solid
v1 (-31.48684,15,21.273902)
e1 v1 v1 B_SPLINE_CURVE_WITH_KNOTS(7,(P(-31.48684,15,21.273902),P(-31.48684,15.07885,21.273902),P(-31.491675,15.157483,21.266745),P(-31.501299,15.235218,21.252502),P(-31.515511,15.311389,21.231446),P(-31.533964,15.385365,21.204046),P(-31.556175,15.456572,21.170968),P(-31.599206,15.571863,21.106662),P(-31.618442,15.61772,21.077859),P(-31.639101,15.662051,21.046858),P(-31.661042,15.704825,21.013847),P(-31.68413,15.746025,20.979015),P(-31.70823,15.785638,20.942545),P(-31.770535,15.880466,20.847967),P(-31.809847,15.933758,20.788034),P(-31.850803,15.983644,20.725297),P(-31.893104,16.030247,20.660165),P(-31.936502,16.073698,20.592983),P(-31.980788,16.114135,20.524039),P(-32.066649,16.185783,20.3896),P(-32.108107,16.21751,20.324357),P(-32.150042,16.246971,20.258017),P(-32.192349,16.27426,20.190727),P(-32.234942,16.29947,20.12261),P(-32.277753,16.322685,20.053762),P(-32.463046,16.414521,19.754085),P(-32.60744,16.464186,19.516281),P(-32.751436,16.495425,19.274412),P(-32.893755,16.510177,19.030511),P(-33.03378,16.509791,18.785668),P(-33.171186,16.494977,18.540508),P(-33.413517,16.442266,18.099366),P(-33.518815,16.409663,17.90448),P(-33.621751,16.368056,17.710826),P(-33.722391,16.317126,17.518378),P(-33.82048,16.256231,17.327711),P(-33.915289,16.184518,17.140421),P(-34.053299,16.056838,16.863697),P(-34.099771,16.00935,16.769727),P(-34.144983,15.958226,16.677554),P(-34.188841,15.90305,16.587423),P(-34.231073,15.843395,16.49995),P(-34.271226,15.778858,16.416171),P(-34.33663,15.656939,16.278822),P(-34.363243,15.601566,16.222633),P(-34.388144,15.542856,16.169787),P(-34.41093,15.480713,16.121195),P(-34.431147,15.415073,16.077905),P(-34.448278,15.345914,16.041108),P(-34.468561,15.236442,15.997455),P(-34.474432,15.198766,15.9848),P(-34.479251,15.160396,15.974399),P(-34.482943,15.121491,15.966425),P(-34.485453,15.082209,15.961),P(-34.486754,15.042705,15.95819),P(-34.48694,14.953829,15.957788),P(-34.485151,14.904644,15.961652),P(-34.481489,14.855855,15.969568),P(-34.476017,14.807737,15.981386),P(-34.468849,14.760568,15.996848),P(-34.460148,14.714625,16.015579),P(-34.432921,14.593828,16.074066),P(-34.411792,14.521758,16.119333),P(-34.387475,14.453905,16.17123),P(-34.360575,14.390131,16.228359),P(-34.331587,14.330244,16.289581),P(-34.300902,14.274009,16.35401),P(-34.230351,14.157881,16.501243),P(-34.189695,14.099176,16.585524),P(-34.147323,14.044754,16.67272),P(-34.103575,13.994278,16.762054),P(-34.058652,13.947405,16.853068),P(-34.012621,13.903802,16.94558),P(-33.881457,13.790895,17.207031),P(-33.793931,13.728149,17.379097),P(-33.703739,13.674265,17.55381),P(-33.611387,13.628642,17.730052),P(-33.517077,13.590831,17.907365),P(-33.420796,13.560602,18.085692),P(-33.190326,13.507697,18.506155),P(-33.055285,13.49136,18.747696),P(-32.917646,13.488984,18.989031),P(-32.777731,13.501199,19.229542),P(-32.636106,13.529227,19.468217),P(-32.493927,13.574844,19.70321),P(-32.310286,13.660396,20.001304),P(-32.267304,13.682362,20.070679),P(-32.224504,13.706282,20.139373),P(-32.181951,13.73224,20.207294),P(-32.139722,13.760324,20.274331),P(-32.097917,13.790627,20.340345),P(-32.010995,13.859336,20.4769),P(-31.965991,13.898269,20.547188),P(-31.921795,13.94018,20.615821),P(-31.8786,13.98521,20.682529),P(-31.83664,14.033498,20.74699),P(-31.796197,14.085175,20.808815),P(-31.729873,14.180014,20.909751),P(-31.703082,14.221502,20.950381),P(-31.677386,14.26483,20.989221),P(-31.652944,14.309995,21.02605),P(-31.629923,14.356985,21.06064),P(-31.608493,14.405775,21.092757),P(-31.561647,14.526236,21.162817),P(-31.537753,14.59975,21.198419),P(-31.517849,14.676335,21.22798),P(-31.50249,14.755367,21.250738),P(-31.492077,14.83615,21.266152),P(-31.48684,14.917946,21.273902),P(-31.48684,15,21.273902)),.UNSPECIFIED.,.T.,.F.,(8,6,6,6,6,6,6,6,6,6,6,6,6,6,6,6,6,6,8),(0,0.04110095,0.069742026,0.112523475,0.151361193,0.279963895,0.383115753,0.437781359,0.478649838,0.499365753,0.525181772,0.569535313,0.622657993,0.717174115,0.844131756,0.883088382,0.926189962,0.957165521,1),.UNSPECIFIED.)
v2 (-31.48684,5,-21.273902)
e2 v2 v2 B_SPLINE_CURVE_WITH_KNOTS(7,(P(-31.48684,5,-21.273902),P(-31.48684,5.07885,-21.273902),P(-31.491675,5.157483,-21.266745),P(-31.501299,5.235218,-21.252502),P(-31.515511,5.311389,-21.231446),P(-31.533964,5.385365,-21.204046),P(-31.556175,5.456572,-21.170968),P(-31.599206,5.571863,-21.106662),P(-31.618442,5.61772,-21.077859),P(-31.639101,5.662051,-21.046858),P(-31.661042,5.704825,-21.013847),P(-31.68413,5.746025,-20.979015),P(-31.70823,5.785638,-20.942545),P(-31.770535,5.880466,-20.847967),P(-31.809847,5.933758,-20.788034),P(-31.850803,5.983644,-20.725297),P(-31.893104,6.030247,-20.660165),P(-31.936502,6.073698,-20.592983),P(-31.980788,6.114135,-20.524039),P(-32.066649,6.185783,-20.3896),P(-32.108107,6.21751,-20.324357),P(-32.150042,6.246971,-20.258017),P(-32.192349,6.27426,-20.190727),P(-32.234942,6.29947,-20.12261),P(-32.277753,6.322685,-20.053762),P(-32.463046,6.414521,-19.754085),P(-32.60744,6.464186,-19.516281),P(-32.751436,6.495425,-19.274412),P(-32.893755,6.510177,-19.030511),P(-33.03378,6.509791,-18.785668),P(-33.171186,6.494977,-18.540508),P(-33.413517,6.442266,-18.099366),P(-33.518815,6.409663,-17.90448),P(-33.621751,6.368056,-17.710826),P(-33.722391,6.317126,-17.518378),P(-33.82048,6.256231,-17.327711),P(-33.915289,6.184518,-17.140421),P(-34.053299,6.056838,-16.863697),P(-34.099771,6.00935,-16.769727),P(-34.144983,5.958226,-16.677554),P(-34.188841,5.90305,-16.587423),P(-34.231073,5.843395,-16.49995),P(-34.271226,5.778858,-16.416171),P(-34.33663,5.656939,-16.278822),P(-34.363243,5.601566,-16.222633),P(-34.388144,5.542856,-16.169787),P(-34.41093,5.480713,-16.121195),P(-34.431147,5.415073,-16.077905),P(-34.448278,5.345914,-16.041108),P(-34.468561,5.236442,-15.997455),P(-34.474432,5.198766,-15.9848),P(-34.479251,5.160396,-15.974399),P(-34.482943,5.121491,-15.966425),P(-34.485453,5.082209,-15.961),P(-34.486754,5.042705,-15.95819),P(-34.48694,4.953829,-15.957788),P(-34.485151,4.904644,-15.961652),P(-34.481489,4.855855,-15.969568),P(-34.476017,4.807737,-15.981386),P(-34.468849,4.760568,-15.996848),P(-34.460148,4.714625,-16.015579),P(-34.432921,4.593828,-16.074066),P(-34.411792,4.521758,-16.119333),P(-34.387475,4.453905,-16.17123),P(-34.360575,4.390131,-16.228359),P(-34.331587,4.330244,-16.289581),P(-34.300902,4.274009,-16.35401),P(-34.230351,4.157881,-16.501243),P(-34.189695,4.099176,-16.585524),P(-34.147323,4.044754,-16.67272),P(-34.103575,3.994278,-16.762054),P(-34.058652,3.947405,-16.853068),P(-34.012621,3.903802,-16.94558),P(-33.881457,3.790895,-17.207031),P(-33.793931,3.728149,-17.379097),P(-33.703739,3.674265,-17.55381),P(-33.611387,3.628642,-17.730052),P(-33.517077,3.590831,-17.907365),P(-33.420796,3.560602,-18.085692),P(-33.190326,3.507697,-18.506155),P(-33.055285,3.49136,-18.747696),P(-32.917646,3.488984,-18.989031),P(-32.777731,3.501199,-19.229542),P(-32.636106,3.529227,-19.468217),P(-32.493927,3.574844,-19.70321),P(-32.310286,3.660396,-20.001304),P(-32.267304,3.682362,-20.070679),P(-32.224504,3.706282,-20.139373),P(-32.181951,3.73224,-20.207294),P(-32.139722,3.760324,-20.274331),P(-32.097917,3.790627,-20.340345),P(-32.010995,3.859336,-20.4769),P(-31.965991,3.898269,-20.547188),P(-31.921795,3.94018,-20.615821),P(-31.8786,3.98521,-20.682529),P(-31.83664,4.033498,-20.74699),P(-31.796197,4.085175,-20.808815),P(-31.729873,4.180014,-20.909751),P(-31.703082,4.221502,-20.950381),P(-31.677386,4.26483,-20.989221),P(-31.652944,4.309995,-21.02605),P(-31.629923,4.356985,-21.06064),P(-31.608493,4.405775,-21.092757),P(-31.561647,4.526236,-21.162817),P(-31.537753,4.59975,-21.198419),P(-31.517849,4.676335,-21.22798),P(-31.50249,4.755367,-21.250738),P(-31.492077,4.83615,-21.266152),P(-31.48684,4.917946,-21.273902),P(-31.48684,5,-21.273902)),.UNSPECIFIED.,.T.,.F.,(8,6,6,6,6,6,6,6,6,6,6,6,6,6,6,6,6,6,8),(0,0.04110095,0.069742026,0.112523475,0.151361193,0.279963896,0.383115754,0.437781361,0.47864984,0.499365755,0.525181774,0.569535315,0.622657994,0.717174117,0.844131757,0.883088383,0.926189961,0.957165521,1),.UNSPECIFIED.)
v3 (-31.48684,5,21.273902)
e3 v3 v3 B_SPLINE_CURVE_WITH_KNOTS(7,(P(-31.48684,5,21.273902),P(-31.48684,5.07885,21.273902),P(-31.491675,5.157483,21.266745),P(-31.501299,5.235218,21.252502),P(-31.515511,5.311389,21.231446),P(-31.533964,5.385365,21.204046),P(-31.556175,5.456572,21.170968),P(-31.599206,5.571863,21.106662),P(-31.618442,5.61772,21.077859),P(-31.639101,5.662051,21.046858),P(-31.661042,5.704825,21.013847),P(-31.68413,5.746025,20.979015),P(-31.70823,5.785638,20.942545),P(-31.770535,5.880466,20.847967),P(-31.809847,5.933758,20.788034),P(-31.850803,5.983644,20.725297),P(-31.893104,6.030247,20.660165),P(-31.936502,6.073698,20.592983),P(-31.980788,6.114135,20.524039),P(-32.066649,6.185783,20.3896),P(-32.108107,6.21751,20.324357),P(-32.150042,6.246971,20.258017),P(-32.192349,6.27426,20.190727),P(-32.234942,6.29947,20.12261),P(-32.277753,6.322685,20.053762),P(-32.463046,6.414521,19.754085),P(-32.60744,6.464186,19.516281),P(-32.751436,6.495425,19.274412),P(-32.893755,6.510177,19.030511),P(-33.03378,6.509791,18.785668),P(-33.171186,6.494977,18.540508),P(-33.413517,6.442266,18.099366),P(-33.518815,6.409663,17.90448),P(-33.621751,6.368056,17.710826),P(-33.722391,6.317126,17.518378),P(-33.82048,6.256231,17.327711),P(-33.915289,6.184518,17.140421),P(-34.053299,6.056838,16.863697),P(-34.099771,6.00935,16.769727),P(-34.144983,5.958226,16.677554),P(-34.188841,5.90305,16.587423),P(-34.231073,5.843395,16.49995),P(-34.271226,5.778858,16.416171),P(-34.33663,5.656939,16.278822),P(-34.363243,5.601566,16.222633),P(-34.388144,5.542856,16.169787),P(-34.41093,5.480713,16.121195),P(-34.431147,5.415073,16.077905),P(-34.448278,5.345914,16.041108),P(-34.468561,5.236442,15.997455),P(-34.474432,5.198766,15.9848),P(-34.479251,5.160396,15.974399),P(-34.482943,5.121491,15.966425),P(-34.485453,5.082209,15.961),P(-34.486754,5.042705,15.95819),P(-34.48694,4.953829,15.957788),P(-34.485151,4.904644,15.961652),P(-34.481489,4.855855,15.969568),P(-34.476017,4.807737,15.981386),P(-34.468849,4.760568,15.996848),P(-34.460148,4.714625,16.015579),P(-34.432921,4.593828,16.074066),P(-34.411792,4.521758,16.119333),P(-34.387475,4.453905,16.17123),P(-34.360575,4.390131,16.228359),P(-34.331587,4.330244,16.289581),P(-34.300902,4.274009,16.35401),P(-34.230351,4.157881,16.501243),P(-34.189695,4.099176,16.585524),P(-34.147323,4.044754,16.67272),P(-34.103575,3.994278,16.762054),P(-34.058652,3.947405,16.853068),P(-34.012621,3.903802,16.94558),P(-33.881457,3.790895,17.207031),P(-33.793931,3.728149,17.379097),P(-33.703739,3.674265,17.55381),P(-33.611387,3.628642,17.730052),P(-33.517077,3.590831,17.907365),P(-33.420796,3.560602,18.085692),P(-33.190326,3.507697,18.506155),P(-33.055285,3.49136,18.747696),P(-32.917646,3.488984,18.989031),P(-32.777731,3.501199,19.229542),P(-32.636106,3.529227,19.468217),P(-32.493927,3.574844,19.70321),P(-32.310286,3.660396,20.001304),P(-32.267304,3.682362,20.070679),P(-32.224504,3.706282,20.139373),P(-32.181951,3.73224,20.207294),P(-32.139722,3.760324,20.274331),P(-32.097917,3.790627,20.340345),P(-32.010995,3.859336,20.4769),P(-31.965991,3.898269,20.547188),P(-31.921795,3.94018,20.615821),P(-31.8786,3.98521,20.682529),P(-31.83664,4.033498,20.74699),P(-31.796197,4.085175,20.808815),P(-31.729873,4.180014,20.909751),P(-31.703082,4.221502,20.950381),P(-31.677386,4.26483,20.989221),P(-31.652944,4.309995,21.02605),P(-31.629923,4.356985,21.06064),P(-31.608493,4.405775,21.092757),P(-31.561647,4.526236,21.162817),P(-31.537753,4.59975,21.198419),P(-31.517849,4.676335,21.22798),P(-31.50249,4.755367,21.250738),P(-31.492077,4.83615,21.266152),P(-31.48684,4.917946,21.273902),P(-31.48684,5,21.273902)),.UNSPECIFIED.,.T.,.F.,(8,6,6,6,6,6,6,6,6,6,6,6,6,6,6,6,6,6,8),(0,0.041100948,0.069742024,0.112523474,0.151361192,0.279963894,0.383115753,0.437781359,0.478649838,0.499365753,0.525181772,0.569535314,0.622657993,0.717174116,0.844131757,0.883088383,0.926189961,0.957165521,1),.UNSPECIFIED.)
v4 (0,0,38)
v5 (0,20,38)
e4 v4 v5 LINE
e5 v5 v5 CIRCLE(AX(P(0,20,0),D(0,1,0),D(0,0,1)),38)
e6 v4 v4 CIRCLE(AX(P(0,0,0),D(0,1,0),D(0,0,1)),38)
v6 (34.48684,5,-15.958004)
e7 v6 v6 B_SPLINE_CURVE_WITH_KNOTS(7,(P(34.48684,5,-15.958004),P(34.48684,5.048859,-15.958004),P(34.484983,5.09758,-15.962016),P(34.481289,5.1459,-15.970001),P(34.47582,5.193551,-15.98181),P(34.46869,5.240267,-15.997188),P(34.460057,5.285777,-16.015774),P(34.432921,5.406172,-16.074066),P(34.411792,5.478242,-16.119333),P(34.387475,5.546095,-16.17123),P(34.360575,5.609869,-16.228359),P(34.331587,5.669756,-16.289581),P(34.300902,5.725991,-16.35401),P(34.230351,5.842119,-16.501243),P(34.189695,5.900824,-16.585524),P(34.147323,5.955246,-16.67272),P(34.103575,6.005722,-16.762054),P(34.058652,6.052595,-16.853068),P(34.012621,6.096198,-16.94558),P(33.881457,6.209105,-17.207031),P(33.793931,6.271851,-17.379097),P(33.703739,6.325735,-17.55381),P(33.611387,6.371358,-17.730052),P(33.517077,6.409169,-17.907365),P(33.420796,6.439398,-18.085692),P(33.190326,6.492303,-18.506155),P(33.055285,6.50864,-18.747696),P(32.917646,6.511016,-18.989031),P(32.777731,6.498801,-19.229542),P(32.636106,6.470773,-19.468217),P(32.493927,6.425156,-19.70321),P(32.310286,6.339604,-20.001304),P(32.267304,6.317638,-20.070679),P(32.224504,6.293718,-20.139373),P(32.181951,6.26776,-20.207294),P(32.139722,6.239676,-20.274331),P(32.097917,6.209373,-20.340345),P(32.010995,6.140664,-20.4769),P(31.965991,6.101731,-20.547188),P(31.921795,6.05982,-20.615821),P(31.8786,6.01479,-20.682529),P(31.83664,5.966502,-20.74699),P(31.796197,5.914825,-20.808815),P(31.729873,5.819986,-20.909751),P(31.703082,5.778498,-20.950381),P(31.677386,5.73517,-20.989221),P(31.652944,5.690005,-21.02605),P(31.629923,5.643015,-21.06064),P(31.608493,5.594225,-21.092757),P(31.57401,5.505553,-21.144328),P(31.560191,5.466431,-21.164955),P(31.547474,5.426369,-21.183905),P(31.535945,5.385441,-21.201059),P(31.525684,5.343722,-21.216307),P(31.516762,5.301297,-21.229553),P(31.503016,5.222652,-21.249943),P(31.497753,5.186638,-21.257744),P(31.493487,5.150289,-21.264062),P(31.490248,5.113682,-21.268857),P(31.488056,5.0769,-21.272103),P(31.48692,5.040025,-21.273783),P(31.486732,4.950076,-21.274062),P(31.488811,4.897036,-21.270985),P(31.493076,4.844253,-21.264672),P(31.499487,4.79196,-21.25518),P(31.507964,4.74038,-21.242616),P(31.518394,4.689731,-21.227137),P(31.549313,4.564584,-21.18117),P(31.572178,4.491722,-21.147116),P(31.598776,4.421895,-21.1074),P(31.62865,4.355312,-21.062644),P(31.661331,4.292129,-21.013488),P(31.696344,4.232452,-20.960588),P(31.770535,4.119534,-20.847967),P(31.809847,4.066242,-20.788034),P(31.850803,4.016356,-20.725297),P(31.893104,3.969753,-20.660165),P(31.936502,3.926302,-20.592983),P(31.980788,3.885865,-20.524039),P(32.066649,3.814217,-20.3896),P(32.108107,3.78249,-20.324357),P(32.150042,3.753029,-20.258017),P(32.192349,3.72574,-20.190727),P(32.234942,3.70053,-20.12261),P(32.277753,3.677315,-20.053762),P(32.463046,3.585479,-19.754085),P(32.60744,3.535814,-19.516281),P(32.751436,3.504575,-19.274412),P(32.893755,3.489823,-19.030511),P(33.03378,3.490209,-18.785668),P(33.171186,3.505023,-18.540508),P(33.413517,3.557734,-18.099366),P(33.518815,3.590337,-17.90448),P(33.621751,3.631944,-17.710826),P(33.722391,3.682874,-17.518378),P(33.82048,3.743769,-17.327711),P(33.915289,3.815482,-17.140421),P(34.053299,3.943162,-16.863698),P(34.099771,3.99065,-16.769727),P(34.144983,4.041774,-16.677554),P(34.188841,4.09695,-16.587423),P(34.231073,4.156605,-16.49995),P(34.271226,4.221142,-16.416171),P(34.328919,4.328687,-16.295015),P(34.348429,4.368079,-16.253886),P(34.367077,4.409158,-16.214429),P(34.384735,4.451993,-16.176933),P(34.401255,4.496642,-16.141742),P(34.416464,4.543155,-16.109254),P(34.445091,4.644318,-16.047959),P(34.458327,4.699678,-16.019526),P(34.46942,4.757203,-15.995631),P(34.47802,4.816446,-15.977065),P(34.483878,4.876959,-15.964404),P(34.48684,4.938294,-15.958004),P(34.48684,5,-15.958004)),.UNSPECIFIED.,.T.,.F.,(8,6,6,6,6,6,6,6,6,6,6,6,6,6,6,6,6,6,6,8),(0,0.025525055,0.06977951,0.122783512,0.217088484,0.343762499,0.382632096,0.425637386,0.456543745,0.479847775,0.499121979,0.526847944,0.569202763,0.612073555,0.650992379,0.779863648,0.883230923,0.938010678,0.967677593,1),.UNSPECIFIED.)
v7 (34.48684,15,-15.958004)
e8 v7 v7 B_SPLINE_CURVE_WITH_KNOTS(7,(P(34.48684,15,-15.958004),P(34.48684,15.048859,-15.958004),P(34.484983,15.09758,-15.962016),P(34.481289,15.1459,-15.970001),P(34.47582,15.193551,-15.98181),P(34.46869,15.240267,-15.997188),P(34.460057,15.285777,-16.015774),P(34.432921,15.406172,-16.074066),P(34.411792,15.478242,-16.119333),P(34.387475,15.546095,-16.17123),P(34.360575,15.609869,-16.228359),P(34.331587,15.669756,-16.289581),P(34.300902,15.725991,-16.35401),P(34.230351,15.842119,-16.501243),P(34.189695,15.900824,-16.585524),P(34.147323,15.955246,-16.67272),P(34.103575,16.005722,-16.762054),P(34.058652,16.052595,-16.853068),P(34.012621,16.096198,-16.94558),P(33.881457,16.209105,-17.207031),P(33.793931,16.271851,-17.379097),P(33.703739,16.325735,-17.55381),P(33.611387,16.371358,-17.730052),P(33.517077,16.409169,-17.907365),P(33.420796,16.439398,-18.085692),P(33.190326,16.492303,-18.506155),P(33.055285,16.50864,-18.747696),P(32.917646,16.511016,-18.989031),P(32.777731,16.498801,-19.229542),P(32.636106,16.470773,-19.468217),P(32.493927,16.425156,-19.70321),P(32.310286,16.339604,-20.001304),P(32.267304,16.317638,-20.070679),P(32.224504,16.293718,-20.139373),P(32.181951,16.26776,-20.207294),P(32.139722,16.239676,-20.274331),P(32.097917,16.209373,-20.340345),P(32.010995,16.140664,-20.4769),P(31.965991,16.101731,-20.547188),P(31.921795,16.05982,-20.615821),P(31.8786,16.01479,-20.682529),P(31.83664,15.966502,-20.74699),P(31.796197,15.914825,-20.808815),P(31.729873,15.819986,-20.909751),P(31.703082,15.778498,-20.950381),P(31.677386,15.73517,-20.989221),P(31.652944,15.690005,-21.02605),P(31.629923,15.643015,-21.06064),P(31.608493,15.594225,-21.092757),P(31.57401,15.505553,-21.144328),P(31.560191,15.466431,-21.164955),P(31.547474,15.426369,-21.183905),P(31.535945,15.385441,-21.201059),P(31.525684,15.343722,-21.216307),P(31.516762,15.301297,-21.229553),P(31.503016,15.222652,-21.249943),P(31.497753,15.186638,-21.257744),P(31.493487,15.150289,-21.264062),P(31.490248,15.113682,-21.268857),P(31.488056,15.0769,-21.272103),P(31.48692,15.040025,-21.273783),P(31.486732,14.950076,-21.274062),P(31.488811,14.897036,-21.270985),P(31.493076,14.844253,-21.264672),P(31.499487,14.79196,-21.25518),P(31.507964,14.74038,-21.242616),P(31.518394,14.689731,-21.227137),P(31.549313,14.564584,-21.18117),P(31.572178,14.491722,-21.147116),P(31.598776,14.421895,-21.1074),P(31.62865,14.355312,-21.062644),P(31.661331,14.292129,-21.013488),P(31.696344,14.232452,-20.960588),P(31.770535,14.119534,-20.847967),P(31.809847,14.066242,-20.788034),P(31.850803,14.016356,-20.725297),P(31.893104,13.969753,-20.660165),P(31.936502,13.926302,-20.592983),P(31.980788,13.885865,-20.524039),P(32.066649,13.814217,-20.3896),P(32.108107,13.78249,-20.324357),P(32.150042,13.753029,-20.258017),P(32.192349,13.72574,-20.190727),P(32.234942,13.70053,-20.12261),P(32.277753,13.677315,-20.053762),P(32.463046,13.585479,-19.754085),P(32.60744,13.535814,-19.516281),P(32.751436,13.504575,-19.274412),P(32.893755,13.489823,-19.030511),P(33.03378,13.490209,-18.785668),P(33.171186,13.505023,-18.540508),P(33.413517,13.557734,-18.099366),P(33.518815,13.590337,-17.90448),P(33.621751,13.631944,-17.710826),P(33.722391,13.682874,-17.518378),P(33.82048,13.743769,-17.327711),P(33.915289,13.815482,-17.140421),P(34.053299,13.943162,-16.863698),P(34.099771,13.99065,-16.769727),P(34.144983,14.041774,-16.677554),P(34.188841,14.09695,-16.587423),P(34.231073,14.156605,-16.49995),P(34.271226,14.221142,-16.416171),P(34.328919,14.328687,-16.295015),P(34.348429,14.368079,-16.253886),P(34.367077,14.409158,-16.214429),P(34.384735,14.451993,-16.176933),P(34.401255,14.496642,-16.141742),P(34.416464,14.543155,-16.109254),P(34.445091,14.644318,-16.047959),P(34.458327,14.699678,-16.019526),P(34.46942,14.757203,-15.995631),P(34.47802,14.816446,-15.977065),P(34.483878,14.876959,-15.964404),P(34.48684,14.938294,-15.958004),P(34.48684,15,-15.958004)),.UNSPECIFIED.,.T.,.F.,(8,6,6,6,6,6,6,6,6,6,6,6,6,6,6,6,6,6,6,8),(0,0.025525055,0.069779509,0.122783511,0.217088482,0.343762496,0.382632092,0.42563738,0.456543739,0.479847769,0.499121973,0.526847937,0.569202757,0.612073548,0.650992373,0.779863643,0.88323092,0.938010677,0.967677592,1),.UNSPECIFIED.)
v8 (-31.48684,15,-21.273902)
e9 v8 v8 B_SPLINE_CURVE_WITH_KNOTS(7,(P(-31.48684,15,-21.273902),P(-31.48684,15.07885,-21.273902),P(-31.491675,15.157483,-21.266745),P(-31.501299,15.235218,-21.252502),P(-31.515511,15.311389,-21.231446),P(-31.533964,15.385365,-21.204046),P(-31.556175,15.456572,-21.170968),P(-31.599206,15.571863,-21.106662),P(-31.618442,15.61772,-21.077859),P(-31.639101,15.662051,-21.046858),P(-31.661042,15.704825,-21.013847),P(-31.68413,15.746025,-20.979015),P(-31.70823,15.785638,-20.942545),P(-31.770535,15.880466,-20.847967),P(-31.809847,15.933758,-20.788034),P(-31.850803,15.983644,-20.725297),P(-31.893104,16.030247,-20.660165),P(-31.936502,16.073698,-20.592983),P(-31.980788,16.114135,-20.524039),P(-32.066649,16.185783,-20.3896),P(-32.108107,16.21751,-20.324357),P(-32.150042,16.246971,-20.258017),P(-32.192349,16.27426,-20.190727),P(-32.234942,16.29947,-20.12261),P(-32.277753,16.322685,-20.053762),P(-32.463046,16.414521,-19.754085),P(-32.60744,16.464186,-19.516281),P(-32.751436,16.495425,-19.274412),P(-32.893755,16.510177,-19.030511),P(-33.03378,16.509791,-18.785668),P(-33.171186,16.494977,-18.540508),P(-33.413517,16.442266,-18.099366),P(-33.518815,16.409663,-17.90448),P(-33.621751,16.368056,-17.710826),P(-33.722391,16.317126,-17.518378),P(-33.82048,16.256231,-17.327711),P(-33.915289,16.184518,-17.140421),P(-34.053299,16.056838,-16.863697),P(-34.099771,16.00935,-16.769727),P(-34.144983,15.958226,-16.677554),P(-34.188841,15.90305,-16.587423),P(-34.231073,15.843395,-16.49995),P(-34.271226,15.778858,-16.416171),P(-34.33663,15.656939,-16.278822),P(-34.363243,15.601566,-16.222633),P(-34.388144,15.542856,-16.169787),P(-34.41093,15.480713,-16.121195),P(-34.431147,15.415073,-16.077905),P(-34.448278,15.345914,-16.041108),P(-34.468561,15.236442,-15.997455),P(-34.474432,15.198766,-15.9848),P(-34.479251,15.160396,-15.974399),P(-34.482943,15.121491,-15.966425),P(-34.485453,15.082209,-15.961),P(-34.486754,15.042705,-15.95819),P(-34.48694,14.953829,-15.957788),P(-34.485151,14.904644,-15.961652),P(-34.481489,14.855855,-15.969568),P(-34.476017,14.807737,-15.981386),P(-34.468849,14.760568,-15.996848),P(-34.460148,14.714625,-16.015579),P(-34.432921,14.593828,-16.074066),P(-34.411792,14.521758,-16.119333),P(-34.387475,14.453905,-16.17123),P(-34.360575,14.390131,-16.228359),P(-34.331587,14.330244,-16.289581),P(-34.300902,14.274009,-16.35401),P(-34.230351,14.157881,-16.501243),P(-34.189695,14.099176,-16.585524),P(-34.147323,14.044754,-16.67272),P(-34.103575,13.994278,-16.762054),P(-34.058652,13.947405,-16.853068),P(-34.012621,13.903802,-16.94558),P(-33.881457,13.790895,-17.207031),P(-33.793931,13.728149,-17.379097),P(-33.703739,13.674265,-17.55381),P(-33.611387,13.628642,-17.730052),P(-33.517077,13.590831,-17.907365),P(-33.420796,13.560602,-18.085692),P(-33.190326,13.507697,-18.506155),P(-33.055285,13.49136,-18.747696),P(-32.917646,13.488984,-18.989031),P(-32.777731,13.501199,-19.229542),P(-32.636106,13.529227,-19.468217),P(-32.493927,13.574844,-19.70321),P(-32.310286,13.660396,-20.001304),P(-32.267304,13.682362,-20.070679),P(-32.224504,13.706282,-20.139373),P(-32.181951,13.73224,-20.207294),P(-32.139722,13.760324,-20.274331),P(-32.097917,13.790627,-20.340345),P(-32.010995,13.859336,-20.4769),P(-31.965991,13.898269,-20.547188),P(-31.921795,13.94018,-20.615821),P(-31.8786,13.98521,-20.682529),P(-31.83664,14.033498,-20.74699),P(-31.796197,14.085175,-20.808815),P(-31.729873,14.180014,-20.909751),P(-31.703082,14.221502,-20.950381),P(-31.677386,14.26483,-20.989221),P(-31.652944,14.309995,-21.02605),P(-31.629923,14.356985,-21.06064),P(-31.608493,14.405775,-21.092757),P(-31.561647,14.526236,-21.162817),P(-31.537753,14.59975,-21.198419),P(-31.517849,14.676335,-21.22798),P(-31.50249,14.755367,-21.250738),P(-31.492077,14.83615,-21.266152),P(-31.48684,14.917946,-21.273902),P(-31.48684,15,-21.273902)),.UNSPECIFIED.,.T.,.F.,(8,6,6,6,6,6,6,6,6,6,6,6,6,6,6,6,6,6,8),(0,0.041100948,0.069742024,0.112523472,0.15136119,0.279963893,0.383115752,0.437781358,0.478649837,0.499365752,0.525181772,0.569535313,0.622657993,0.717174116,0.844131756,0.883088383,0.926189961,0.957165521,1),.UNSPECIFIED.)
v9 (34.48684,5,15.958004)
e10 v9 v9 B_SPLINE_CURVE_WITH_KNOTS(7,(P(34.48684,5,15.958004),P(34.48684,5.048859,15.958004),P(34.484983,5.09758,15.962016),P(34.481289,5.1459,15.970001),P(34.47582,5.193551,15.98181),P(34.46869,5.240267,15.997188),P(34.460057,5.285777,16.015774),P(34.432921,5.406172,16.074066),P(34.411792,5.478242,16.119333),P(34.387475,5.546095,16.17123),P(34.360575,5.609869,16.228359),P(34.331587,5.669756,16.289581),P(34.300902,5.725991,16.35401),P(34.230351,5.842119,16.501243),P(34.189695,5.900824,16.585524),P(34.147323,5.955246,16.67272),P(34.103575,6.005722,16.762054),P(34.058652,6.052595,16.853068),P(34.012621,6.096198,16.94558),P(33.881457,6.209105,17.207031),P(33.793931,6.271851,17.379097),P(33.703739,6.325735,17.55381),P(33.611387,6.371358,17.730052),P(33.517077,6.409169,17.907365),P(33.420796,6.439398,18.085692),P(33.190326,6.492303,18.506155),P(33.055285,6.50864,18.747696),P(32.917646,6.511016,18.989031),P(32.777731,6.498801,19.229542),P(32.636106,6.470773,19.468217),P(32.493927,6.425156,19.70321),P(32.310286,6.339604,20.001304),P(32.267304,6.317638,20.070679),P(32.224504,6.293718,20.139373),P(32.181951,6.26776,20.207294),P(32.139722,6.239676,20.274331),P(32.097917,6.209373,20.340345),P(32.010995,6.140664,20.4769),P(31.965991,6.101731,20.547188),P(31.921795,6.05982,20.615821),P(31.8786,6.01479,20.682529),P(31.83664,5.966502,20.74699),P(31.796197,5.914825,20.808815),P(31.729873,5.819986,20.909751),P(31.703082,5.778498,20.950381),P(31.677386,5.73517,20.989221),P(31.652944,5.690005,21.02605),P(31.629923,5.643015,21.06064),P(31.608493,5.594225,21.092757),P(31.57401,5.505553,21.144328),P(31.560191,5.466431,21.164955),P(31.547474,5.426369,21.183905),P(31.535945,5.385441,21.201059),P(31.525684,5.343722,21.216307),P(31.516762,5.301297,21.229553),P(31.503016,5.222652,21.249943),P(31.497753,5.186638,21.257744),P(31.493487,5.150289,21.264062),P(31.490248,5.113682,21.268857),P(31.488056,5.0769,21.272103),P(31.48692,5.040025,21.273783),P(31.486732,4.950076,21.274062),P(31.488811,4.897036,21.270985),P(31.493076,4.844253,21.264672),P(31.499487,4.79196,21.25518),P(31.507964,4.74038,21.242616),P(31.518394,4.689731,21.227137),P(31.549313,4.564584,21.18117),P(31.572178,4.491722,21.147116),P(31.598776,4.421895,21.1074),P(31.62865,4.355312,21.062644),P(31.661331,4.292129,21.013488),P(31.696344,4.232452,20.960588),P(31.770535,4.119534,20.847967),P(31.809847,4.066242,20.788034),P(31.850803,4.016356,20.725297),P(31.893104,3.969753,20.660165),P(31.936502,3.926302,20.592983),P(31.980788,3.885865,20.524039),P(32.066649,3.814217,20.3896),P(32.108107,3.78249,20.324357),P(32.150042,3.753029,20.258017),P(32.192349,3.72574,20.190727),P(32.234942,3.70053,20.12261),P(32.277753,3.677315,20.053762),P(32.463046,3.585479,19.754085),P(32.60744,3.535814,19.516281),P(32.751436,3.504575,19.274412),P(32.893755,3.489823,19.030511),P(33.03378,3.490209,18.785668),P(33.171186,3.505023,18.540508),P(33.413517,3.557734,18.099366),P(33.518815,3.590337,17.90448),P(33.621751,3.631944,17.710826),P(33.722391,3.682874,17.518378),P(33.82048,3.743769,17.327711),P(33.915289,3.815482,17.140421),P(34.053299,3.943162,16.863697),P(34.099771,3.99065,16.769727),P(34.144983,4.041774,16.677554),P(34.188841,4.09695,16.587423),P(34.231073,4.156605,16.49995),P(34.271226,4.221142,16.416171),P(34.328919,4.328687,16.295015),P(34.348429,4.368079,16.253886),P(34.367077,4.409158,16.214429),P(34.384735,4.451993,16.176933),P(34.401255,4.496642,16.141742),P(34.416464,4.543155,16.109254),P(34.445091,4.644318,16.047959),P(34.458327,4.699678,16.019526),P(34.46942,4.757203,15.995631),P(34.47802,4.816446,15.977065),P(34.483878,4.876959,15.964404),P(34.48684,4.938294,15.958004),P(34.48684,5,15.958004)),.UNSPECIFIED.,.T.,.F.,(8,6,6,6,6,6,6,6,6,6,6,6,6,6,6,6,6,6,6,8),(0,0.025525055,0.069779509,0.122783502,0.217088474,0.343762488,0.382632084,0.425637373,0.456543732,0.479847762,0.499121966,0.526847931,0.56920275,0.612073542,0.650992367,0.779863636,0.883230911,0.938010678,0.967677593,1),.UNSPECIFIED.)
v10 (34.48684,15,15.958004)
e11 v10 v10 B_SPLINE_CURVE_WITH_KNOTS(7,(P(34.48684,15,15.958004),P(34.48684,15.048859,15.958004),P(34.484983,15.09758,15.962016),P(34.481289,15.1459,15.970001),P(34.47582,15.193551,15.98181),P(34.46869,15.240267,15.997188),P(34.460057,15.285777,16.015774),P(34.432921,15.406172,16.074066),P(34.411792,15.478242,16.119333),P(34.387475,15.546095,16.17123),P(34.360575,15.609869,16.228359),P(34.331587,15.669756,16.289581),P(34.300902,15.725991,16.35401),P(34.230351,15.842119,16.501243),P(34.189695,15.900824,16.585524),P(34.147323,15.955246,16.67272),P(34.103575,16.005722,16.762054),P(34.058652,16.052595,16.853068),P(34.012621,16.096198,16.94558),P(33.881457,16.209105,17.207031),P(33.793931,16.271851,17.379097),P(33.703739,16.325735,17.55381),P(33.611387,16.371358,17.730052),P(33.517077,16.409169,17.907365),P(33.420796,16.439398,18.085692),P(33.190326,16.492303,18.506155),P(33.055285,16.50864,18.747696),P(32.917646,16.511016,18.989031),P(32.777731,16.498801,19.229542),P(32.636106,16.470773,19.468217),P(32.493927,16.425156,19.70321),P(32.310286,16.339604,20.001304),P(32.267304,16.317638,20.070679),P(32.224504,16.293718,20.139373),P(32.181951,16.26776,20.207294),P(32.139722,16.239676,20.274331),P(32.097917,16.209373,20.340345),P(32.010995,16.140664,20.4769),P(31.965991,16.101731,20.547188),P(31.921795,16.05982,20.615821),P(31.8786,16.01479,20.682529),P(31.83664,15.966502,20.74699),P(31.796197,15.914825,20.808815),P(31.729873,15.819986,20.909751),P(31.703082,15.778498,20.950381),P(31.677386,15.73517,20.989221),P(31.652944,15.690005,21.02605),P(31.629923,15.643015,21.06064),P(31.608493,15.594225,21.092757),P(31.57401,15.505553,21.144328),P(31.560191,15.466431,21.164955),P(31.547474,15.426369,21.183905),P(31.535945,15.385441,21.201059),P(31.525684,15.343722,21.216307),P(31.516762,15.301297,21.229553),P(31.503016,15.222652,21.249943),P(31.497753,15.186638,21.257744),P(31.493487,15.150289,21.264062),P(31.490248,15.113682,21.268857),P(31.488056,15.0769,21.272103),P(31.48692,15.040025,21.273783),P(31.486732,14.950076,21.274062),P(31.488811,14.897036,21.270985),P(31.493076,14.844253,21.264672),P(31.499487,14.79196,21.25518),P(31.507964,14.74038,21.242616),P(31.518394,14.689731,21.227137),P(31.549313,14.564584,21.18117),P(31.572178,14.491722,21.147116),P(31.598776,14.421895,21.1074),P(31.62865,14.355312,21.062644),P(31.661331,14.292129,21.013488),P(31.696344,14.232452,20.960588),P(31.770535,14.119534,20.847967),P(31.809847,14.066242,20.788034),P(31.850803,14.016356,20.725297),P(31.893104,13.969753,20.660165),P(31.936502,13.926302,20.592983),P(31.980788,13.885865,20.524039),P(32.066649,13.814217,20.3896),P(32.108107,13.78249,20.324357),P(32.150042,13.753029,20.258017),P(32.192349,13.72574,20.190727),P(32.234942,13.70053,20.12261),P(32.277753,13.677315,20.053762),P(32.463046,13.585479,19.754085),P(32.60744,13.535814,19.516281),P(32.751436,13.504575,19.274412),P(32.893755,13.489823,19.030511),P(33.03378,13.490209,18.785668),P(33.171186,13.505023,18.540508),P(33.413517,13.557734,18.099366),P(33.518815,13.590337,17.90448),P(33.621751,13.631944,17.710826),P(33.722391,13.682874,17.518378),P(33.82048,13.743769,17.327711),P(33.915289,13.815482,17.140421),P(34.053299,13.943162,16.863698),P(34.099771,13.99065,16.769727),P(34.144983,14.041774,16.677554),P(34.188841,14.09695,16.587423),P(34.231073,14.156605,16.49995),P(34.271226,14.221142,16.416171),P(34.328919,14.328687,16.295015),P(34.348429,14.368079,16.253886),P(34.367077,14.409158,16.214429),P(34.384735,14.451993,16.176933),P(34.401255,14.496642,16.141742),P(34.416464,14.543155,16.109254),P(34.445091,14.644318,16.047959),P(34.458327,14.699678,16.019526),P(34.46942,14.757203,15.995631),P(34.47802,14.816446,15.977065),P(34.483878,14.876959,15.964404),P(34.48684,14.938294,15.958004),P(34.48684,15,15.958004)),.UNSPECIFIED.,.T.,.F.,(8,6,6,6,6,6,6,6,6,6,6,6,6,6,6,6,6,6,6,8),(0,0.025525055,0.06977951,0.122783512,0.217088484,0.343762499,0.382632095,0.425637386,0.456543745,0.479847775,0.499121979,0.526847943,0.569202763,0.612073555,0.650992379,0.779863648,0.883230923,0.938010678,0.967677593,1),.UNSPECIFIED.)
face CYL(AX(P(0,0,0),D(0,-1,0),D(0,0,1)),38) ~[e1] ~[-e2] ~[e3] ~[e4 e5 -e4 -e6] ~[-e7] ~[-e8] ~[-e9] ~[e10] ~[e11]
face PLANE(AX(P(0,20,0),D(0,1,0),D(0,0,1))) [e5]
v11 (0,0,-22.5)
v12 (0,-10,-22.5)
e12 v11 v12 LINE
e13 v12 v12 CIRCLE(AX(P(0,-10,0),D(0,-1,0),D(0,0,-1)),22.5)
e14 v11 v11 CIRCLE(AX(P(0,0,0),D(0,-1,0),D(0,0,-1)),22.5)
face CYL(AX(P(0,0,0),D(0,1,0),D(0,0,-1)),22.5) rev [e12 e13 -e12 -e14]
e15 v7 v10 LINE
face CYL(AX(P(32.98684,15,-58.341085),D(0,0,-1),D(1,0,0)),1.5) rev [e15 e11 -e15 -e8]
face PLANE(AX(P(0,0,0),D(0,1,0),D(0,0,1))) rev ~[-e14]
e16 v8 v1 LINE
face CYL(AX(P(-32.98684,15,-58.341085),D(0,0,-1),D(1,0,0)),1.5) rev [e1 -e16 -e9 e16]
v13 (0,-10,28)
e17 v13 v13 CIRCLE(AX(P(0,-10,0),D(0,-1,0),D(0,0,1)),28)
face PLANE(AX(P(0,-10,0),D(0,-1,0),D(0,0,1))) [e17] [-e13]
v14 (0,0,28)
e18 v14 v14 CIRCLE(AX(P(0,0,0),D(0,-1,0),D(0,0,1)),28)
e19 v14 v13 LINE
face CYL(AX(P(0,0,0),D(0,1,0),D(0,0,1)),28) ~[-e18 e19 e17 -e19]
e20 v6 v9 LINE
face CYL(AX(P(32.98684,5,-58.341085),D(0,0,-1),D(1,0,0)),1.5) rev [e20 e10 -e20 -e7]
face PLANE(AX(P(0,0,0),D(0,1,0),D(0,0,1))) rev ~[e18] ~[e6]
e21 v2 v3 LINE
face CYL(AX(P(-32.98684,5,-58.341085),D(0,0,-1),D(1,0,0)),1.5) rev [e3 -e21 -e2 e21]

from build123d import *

# Parameters (mm, degrees)
SKETCH1_R               = 38
BOSS_EXTRUDE1_DEPTH     = 20
SKETCH2_R               = 28
SKETCH2_R_2             = 22.5
BOSS_EXTRUDE2_DEPTH     = 10
CUT_EXTRUDE1_DEPTH      = 58.341084747
CUT_EXTRUDE1_DEPTH_BACK = 58.341084747
SKETCH3_R               = 1.5


with BuildPart() as part:
    # Sketch1 → Boss-Extrude1 (new body)
    with BuildSketch(Plane(origin=(0, 0, 0), x_dir=(1, 0, 0), z_dir=(0, 1, 0))):
        with Locations(Location((0, 0, 0), (0, 0, 270))):
            Circle(SKETCH1_R)
    extrude(amount=BOSS_EXTRUDE1_DEPTH)

    # Sketch2 → Boss-Extrude2 (add)
    with BuildSketch(Plane.XZ):
        with Locations(Location((0, 0, 0), (0, 0, 90))):
            Circle(SKETCH2_R)
        with Locations(Location((0, 0, 0), (0, 0, 270))):
            Circle(SKETCH2_R_2, mode=Mode.SUBTRACT)
    extrude(amount=BOSS_EXTRUDE2_DEPTH)

    # Sketch3 → Cut-Extrude1 (cut, two sides: drawn at the far end of the back side and taken through both)
    with BuildSketch(Plane.XY.offset(-CUT_EXTRUDE1_DEPTH_BACK)):
        with Locations((32.986839826, 5)):
            Circle(SKETCH3_R)
        with Locations((32.986839826, 15)):
            Circle(SKETCH3_R)
        with Locations((-32.986839826, 5)):
            Circle(SKETCH3_R)
        with Locations((-32.986839826, 15)):
            Circle(SKETCH3_R)
    extrude(amount=CUT_EXTRUDE1_DEPTH + CUT_EXTRUDE1_DEPTH_BACK, mode=Mode.SUBTRACT)


solid = part.part
